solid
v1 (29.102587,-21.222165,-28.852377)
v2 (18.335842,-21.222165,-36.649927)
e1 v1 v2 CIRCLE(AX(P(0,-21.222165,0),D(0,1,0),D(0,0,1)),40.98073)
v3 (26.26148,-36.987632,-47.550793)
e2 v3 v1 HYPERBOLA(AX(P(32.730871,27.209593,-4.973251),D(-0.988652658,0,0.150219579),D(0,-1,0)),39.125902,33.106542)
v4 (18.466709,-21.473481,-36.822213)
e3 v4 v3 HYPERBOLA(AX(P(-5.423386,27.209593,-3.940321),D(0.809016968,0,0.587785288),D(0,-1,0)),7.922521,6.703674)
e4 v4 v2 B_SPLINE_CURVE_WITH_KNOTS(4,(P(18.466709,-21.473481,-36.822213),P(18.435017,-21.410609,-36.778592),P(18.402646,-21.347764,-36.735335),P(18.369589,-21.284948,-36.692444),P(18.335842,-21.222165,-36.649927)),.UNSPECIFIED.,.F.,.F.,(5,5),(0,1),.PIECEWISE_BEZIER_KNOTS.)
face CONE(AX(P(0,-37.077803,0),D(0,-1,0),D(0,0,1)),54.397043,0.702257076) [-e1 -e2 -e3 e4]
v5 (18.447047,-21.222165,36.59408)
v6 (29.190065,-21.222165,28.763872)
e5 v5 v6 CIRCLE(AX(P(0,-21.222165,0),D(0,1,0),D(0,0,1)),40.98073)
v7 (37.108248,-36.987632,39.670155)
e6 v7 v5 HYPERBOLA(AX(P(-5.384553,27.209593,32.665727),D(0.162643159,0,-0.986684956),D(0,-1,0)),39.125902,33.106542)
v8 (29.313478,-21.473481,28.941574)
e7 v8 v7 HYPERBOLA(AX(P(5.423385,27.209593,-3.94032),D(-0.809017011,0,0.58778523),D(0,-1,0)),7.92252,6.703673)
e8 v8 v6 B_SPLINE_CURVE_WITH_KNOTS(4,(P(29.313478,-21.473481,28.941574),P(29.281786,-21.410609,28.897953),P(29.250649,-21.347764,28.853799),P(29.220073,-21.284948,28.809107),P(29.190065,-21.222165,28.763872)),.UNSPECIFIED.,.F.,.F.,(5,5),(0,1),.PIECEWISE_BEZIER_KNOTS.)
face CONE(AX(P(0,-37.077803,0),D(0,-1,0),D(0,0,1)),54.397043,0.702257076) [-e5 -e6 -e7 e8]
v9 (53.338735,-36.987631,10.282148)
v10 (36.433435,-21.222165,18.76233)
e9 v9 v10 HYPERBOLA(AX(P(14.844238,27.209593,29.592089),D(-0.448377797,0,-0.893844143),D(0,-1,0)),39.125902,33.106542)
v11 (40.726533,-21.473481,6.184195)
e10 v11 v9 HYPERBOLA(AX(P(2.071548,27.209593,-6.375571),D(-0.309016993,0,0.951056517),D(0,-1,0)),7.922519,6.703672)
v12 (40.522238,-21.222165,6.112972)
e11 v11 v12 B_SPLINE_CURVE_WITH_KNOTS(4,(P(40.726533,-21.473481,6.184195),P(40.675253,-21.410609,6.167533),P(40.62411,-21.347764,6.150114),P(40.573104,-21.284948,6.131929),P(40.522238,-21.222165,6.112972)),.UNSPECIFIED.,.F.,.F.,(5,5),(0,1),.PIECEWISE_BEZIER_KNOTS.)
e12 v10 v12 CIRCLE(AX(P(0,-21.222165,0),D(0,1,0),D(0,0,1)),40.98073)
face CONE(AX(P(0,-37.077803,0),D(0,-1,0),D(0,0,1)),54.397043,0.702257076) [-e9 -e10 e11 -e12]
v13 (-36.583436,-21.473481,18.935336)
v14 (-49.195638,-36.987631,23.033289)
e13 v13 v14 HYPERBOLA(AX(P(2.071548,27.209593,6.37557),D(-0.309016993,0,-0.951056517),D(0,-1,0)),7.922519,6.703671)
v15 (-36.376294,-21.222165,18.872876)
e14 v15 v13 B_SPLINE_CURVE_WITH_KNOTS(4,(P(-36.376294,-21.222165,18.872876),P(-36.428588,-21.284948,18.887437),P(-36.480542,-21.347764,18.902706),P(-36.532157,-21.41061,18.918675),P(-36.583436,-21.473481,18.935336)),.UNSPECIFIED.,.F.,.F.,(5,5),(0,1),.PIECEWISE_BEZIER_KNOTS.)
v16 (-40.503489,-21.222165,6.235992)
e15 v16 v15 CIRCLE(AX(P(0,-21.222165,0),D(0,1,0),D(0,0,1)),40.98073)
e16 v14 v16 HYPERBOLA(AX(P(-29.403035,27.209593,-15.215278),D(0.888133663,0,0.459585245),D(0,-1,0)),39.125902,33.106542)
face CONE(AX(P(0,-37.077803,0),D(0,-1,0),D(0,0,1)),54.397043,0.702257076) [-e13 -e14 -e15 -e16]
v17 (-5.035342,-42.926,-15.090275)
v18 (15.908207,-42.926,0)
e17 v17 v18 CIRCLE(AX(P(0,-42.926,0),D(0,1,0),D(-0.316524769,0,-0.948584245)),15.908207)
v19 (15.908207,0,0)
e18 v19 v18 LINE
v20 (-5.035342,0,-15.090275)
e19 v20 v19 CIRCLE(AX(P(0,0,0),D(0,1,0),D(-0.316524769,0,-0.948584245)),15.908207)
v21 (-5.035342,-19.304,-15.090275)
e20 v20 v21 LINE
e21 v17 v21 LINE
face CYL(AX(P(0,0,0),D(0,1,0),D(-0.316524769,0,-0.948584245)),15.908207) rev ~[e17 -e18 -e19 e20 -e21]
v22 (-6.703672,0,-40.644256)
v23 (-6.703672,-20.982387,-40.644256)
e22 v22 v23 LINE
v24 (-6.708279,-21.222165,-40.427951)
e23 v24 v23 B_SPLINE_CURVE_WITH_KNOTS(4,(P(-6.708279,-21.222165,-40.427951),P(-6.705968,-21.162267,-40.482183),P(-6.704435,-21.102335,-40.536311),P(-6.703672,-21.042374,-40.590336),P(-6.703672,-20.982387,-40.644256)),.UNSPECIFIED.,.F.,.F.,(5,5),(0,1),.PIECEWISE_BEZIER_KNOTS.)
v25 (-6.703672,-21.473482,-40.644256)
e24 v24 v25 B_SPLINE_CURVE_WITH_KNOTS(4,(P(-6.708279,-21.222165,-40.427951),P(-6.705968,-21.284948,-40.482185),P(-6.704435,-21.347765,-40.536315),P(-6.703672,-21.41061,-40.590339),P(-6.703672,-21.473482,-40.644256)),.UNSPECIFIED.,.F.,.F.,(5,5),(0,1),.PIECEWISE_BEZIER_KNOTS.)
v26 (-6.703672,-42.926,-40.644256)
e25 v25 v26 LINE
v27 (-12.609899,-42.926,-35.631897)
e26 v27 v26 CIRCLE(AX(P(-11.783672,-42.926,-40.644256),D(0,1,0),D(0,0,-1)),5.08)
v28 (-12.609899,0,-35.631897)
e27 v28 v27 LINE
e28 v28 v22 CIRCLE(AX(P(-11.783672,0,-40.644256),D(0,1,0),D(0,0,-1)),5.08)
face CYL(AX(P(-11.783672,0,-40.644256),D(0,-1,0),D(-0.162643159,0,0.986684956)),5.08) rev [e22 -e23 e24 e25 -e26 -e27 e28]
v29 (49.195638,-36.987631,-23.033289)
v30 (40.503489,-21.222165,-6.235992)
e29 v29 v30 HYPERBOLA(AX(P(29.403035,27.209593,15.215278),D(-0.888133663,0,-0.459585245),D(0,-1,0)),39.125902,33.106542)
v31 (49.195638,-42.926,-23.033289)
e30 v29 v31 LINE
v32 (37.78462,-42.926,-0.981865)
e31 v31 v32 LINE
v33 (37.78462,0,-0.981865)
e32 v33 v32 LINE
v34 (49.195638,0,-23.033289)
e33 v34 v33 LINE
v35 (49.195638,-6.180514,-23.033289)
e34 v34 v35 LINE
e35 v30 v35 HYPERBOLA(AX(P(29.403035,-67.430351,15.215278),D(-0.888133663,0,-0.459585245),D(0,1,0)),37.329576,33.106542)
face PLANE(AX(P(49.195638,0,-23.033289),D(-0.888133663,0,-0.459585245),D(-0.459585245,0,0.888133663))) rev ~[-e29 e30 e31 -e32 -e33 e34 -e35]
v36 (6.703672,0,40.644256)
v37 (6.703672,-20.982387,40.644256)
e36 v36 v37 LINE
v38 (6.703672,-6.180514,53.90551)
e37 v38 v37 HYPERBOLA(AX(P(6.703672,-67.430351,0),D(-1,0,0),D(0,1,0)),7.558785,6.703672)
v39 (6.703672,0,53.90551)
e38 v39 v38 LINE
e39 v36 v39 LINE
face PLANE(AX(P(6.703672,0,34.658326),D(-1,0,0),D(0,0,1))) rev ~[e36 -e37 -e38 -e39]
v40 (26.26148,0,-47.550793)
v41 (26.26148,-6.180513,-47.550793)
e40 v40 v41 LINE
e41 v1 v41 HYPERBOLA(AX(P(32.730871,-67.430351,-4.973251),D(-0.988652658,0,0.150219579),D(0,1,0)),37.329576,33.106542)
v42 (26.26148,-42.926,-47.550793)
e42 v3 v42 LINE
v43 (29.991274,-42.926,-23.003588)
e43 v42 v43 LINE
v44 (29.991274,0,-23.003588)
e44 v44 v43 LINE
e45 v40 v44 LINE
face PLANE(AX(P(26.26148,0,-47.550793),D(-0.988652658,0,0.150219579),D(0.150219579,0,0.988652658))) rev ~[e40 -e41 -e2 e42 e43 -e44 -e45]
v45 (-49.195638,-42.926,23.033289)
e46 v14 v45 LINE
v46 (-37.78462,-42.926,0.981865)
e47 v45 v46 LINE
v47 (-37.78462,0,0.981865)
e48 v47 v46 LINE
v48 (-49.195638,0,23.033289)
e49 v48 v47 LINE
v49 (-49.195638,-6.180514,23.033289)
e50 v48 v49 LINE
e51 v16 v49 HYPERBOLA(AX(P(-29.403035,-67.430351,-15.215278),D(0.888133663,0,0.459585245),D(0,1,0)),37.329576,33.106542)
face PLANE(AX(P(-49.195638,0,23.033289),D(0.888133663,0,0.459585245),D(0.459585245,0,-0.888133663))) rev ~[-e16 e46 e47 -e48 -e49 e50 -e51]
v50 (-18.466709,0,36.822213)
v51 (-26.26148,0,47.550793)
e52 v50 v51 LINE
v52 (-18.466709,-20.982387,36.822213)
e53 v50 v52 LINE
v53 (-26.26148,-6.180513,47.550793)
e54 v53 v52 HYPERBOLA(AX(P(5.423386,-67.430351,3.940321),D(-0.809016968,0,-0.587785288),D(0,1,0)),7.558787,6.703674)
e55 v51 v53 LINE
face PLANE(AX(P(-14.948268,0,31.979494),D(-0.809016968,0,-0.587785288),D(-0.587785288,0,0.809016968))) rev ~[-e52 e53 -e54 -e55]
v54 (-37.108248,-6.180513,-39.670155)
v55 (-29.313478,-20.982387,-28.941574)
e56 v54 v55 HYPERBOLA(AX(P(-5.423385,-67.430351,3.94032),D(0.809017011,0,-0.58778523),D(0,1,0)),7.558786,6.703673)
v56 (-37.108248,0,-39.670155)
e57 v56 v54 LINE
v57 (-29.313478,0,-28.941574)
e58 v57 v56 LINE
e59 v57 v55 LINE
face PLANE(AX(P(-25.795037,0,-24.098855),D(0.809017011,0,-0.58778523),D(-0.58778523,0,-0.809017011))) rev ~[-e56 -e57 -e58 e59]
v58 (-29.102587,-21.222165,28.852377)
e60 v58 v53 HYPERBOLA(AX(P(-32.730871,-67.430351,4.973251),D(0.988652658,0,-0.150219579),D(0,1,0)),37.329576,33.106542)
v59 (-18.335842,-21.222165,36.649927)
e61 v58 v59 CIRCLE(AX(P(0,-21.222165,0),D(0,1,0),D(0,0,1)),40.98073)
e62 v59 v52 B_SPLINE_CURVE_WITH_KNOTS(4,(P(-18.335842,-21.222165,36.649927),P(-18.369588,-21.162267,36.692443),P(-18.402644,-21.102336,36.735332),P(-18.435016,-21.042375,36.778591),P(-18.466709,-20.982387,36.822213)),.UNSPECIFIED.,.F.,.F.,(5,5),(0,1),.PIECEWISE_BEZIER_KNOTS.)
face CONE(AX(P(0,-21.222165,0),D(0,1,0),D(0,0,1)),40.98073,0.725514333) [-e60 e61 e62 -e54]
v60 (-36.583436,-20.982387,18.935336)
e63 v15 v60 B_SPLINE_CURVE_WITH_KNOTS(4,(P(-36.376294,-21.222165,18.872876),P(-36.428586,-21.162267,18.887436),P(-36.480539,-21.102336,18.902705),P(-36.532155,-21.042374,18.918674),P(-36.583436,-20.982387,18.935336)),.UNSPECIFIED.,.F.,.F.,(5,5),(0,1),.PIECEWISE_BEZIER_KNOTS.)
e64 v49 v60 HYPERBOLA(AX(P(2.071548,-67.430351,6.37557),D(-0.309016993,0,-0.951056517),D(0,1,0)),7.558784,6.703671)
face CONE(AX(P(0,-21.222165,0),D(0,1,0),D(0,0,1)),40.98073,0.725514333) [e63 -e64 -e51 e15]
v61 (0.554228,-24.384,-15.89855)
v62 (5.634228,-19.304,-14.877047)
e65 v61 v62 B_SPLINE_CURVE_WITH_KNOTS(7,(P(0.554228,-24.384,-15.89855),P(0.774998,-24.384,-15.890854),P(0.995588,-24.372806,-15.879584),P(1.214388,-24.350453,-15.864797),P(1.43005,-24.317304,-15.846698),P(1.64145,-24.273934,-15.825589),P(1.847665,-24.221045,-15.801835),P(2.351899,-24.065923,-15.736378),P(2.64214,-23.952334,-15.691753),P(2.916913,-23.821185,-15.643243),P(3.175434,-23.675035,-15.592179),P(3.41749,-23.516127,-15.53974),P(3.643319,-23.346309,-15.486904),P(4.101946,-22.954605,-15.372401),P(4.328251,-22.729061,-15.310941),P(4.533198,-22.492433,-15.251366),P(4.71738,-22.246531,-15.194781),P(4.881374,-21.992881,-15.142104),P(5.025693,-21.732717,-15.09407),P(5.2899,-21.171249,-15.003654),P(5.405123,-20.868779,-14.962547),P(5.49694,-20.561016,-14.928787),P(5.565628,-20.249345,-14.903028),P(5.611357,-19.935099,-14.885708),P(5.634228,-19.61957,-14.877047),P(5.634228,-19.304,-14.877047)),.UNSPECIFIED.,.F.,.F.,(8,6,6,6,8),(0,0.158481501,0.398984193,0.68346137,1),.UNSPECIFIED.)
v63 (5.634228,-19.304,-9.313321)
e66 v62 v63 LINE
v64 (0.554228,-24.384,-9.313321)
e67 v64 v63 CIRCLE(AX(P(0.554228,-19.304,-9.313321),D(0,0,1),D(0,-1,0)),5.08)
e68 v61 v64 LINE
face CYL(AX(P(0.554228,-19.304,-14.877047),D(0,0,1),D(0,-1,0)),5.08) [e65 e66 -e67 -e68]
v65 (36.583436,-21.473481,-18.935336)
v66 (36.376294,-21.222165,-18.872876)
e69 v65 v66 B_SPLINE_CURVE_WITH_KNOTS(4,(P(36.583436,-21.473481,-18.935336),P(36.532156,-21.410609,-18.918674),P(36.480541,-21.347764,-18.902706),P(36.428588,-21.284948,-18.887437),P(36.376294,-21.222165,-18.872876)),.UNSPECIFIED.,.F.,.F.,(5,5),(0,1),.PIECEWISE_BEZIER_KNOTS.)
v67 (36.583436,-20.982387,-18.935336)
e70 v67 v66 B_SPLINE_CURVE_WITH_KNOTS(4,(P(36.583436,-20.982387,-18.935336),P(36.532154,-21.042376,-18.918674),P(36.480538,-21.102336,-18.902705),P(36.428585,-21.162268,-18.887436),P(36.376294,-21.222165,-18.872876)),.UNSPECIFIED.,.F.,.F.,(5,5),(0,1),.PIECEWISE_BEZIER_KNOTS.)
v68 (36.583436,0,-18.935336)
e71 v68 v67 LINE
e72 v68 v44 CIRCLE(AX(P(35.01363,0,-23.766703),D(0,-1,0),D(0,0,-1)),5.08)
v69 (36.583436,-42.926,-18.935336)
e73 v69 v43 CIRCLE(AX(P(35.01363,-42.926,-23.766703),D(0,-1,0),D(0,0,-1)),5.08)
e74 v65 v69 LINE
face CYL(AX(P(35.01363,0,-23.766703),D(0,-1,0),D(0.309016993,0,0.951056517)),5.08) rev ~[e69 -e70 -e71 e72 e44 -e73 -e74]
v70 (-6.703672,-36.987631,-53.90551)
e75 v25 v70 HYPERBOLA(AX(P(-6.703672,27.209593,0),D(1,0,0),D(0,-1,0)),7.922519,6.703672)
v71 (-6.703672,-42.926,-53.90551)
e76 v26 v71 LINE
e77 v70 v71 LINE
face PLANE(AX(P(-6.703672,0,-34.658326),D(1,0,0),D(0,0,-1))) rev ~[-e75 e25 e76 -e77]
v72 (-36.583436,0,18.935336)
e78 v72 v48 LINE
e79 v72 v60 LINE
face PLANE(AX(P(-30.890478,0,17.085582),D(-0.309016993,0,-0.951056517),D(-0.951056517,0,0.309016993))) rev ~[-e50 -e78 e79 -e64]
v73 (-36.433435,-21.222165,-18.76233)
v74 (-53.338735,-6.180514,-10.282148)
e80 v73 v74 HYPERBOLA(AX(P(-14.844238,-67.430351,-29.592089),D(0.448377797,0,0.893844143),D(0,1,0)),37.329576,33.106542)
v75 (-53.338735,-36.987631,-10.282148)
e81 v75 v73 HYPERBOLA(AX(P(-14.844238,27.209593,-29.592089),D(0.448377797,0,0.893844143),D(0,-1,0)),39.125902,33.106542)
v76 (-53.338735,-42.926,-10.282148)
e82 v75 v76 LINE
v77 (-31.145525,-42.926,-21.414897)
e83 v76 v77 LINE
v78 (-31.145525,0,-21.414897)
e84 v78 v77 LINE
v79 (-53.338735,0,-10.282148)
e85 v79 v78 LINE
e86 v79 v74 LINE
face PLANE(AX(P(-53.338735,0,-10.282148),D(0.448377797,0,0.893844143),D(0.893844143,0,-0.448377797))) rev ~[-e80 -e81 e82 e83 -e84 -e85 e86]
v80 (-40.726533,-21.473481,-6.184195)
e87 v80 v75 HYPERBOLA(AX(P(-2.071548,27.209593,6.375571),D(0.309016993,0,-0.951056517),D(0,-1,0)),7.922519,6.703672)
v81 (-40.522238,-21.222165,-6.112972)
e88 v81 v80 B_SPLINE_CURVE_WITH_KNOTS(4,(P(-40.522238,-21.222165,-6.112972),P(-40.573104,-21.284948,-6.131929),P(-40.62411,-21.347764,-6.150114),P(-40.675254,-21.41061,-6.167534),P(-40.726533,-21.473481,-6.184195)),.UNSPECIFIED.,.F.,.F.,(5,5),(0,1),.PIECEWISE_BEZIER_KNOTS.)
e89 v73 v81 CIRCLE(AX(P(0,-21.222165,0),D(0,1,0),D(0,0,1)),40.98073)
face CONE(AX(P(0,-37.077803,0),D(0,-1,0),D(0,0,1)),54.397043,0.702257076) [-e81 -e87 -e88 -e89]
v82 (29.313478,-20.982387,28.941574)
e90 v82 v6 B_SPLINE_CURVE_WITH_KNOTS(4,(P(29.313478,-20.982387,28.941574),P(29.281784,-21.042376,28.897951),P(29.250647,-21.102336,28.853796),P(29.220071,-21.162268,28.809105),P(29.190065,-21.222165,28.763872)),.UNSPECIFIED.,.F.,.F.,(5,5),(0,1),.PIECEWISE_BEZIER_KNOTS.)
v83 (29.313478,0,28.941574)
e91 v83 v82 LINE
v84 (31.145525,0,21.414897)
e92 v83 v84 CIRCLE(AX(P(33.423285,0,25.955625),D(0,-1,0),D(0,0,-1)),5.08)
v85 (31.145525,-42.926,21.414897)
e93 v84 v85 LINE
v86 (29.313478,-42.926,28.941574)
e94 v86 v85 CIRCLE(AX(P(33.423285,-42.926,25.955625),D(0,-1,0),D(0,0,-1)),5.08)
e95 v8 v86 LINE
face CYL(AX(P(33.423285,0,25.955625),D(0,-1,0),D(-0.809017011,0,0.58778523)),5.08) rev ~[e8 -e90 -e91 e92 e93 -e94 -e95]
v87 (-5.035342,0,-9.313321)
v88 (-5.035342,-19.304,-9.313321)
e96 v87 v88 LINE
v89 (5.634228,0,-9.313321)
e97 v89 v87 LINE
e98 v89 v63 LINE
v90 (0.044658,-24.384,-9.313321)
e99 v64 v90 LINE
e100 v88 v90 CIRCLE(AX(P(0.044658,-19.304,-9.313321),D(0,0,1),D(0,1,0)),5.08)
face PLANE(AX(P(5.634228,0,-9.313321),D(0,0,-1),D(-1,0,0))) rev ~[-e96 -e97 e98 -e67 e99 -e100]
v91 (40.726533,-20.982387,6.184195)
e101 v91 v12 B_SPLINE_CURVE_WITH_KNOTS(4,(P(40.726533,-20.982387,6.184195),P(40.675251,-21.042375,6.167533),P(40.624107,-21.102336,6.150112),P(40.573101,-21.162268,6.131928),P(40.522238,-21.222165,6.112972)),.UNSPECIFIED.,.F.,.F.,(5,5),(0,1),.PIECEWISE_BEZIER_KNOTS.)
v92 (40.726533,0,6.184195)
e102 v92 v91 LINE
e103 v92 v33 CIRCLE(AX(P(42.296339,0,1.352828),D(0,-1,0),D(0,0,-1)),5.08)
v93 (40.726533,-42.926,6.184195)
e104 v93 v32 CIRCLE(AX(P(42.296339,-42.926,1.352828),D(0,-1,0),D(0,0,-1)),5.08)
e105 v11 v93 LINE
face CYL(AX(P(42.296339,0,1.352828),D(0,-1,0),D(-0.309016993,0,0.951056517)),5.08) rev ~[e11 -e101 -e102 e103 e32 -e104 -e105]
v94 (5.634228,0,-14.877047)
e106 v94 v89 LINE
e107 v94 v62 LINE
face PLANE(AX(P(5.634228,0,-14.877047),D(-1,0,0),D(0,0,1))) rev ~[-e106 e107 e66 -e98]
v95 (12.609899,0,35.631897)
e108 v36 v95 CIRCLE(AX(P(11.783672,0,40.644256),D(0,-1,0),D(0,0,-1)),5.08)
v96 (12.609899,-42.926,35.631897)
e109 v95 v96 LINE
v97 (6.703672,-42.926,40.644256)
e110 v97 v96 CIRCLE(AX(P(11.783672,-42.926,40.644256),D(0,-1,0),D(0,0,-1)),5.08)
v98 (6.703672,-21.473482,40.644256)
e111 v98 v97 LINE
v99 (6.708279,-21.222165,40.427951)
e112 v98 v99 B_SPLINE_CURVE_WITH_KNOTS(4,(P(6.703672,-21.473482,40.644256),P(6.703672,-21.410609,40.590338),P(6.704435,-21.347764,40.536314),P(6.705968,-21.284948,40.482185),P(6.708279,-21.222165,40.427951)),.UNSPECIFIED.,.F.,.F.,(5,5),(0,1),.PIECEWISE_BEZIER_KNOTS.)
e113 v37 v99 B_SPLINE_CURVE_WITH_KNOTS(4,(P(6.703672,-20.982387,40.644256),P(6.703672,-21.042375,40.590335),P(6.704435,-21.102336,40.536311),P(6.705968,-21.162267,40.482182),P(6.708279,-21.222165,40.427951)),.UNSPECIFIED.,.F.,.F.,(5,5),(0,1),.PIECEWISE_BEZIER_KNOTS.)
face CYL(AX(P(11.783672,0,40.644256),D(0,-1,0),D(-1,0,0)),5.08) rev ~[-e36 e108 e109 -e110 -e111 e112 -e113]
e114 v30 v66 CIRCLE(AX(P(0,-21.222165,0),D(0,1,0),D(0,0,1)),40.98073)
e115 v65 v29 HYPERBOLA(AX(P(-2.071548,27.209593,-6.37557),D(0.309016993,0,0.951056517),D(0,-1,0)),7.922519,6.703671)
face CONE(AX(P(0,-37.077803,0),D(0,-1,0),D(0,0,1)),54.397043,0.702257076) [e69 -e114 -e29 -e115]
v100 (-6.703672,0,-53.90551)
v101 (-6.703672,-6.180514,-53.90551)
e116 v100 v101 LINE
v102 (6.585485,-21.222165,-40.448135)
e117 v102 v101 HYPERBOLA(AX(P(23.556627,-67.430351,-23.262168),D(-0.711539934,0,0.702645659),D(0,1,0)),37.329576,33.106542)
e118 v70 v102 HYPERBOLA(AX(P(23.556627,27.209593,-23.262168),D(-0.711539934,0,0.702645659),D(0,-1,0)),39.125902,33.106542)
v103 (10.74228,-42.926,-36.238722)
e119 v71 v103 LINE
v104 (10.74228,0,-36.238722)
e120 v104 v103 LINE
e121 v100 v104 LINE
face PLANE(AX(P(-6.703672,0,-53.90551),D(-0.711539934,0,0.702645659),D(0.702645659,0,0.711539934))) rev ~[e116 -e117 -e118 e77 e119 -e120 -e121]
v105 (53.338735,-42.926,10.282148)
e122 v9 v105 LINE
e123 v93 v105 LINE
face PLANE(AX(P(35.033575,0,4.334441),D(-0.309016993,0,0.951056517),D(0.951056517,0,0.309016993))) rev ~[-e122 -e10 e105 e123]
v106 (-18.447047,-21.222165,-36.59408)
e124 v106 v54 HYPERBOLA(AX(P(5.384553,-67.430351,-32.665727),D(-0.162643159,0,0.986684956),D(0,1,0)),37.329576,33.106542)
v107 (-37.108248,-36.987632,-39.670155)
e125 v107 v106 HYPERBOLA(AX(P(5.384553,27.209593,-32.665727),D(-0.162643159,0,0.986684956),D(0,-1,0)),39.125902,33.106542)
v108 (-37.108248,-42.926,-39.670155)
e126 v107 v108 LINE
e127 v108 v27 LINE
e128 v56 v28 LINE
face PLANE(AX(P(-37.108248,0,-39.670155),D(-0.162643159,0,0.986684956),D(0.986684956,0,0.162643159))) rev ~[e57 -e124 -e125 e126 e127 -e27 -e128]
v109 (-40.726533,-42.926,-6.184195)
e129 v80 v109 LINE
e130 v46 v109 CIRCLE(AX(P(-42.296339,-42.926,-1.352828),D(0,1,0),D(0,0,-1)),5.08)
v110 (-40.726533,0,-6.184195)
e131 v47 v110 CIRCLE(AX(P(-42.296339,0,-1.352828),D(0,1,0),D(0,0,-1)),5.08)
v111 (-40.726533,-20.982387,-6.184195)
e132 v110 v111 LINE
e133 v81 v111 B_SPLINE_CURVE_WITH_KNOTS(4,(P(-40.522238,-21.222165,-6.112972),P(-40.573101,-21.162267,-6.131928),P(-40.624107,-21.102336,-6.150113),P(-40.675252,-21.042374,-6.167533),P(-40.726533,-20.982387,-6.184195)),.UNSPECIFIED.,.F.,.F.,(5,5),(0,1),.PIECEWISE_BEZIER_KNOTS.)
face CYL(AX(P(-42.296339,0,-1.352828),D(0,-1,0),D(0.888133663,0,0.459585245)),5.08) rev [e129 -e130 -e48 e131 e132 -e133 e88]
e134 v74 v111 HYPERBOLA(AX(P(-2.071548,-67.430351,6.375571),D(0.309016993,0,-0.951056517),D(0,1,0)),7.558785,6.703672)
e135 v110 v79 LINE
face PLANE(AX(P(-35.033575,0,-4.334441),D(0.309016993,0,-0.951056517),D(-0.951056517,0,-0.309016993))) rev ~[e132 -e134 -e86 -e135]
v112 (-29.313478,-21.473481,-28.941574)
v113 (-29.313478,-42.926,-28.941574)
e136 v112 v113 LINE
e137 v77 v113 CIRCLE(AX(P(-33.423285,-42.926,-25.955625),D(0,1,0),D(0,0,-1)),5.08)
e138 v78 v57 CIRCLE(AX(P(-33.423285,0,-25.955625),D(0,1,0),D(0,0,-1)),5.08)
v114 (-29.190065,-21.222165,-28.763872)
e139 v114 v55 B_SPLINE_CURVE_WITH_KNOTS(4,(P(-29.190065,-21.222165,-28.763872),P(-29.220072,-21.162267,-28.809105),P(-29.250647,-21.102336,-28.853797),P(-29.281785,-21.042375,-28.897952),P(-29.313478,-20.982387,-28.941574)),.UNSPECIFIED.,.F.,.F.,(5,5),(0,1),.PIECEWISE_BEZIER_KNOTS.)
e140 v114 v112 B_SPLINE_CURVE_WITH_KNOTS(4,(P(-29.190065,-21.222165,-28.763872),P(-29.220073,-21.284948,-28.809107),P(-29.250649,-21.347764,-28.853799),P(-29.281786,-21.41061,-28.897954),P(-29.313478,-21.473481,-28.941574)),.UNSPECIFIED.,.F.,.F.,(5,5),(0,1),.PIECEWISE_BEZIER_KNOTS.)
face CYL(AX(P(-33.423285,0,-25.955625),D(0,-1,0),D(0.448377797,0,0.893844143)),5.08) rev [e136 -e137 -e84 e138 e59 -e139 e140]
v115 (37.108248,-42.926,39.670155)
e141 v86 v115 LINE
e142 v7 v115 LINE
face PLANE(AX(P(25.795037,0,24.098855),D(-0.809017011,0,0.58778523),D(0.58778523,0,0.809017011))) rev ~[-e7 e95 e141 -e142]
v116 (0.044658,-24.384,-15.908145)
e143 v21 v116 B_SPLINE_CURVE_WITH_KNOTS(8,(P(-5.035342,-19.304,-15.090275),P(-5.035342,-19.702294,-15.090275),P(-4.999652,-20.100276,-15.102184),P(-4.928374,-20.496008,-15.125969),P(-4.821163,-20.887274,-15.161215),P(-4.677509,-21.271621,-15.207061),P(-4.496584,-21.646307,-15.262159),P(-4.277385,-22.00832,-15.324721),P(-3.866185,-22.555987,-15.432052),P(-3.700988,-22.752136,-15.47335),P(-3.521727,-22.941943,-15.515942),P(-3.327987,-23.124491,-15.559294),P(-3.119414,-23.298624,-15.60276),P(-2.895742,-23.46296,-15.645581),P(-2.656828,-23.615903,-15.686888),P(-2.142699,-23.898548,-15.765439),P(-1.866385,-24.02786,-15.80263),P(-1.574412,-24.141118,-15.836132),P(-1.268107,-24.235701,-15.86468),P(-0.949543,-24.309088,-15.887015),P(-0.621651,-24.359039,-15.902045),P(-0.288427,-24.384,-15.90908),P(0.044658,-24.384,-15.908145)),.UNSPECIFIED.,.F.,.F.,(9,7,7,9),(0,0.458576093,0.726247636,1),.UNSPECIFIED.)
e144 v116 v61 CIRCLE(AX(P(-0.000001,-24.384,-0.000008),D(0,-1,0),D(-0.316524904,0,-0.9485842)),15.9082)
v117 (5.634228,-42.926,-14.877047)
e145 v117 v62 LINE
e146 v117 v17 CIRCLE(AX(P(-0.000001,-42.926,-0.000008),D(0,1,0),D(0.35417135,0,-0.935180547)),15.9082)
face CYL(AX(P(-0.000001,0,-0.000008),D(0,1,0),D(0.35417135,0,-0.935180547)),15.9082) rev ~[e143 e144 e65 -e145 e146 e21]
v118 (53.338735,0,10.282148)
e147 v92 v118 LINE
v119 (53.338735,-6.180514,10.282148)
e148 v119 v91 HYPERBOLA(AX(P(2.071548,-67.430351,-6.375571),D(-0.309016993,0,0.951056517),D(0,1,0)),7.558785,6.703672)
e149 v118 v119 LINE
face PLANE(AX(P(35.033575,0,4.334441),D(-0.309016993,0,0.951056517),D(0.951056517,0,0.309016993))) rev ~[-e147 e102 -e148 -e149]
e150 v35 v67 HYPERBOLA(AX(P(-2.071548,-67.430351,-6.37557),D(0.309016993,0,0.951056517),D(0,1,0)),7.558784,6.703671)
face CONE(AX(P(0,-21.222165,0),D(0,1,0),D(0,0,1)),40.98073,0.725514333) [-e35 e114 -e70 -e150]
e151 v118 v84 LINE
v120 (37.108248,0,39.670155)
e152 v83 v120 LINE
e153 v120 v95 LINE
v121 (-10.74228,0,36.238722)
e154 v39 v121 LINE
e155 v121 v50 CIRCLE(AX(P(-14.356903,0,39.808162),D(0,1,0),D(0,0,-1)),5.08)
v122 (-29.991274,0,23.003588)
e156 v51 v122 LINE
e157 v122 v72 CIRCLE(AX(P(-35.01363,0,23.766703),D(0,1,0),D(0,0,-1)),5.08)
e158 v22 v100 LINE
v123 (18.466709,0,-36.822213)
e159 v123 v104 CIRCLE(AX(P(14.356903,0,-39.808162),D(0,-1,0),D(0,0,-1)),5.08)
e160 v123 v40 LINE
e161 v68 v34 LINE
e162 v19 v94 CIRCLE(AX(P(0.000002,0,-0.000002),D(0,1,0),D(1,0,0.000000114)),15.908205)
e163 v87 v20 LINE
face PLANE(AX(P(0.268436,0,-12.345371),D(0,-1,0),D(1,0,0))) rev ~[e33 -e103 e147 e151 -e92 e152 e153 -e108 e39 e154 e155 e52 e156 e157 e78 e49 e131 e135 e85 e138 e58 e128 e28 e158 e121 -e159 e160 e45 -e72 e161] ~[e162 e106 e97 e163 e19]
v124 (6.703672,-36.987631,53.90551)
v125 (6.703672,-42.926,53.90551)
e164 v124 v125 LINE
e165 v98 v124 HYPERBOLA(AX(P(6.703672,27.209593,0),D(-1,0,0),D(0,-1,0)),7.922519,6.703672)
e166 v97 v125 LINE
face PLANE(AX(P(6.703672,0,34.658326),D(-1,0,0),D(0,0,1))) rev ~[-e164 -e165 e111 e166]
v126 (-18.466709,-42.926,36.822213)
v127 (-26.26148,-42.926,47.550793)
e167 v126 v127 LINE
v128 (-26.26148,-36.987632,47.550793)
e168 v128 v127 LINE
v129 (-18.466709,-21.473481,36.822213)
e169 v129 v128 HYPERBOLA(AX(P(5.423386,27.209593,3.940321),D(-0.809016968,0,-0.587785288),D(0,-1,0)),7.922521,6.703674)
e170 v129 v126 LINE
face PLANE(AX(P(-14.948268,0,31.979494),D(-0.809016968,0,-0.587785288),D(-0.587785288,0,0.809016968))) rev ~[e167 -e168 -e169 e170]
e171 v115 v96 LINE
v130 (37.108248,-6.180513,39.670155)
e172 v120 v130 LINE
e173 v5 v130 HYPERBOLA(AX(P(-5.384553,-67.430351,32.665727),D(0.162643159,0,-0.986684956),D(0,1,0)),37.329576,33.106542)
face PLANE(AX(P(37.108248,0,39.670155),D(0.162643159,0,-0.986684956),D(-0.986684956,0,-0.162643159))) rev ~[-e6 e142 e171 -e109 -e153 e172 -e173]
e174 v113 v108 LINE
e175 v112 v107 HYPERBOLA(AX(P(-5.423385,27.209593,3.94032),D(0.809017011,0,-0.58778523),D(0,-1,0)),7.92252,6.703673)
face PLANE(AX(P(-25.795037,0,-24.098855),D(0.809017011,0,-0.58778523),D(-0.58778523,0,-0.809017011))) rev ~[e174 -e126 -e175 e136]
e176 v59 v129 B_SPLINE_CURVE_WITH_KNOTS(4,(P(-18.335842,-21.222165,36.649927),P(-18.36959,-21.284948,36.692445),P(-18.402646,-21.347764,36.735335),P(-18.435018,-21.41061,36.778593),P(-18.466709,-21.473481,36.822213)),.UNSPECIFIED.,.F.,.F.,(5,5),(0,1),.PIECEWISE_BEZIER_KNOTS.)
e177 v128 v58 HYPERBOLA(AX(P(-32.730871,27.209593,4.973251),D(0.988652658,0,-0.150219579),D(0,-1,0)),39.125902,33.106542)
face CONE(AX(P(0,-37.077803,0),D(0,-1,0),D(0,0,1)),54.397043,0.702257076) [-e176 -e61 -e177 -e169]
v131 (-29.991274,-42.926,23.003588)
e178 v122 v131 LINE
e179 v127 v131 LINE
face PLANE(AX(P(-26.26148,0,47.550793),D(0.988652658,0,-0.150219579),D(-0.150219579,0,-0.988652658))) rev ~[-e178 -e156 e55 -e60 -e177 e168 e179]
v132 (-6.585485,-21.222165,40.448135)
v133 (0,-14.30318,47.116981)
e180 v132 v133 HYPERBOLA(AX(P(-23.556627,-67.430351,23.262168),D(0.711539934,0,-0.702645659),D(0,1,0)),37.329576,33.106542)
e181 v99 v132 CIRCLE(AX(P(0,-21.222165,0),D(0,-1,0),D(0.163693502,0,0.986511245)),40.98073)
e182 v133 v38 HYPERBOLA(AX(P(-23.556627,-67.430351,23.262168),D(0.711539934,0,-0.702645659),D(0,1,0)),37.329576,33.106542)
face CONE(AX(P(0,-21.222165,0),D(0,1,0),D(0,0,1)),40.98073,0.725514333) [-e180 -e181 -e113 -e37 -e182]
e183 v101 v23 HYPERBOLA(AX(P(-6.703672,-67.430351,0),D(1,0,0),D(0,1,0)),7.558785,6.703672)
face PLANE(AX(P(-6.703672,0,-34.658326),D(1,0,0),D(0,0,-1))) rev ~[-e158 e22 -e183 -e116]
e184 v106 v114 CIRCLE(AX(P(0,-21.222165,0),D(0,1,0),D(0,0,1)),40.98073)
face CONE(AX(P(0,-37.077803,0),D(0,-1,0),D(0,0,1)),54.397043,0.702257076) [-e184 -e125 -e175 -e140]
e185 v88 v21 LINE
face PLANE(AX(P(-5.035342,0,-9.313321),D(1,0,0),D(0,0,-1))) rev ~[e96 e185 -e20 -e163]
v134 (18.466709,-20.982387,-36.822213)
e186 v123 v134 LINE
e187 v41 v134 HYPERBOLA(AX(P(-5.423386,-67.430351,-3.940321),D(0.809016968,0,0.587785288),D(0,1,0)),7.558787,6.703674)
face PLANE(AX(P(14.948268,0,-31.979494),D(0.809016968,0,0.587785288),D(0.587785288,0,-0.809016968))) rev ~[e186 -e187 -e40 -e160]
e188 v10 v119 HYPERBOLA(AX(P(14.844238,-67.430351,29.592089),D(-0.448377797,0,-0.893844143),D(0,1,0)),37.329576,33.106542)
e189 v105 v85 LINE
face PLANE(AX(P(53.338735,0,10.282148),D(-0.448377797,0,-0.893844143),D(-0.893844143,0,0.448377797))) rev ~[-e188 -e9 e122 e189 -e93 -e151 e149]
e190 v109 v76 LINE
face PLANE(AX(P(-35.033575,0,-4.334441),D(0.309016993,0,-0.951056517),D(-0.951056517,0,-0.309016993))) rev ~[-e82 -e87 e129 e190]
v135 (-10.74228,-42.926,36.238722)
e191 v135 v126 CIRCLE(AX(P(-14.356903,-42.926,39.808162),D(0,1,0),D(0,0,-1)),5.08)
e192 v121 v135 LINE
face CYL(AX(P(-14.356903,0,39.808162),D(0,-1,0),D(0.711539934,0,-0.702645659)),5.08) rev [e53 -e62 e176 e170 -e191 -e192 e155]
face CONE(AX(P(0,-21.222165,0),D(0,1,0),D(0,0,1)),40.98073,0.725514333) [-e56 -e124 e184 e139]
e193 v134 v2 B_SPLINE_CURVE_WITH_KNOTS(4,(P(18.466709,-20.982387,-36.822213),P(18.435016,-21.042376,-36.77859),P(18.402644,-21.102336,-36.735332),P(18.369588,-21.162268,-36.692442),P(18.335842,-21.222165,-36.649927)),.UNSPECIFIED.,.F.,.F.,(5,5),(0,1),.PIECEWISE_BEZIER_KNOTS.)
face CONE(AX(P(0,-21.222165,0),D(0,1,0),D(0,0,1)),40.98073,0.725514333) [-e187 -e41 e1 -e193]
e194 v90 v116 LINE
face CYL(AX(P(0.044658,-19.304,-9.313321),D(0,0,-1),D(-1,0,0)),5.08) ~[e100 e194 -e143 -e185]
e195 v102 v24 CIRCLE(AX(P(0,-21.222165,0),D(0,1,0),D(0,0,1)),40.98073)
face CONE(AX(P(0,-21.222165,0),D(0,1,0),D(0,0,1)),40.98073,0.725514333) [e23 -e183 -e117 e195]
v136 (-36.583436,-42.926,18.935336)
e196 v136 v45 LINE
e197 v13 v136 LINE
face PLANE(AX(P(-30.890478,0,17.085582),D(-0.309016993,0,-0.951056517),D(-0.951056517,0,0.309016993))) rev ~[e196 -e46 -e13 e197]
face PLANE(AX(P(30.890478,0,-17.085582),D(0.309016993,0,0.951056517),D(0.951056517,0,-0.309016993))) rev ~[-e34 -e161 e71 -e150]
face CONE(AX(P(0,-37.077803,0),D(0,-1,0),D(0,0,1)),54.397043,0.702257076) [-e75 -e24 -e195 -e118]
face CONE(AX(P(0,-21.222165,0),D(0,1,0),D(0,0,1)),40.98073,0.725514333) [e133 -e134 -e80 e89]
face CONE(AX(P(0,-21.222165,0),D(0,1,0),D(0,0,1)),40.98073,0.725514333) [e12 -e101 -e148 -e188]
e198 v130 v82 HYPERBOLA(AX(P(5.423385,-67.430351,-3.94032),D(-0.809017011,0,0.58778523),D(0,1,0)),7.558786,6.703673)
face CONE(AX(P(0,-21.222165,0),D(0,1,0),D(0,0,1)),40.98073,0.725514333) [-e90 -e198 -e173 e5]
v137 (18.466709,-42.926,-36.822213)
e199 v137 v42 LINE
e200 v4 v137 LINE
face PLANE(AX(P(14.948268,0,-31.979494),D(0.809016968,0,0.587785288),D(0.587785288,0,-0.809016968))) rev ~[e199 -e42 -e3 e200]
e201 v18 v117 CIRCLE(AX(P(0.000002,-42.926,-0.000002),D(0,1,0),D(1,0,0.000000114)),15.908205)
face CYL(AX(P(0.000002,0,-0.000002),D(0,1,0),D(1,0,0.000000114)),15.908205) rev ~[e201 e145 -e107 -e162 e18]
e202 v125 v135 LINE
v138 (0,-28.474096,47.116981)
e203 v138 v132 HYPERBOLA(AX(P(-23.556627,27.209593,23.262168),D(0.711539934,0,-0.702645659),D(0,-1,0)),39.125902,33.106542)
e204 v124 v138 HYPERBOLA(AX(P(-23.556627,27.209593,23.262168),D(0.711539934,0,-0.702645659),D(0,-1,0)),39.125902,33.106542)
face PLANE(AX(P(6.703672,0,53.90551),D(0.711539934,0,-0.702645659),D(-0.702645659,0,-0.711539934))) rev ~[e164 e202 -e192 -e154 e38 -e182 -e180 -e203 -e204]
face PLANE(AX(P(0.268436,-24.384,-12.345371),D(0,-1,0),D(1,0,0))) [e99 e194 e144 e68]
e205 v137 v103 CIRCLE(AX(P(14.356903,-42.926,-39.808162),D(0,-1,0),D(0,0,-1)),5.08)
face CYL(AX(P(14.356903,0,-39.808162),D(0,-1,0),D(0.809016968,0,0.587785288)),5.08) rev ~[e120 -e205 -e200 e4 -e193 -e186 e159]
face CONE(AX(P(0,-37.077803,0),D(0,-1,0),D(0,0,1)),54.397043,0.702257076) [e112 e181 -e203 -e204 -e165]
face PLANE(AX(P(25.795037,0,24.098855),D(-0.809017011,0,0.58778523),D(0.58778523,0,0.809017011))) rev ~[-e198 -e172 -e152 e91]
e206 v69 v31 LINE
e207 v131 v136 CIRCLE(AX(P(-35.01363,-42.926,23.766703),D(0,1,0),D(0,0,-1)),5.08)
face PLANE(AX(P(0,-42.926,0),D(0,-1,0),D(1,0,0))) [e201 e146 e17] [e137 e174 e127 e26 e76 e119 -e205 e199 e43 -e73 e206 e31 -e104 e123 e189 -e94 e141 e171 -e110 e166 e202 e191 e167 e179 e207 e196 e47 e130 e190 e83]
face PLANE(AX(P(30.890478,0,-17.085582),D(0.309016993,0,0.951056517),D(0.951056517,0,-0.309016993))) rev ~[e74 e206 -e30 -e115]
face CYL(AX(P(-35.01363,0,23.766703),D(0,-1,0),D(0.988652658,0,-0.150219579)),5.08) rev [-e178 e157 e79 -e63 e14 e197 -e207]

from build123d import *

# Parameters (mm, degrees)
F1_DEPTH = 42.926
F2_R     = 5.08
F5_DEPTH = 24.384
F6_R     = 5.08


with BuildPart() as f1:
    # F0 (on Front) → F1 (new body)
    with BuildSketch(Plane.XZ):
        Polygon((6.703672, 53.90551), (-14.948268, 31.979494), (-26.26148, 47.550793), (-30.890478, 17.085582), (-49.195638, 23.033289), (-35.033575, -4.334441), (-53.338735, -10.282148), (-25.795037, -24.098855), (-37.108248, -39.670155), (-6.703672, -34.658326), (-6.703672, -53.90551), (14.948268, -31.979494), (26.26148, -47.550793), (30.890478, -17.085582), (49.195638, -23.033289), (35.033575, 4.334441), (53.338735, 10.282148), (25.795037, 24.098855), (37.108248, 39.670155), (6.703672, 34.658326), align=None)
        with BuildLine():
            ThreePointArc((-5.035342, -15.090275), (-9.299672, 12.906865), (15.908207, 0))
            ThreePointArc((15.908207, 0), (13.090102, -9.039928), (5.634228, -14.877047))
            ThreePointArc((5.634228, -14.877047), (0.317856, -15.905032), (-5.035342, -15.090275))
        make_face(mode=Mode.SUBTRACT)
    extrude(amount=F1_DEPTH)

    # F2
    f2_edges = [f1.edges().sort_by_distance(p)[0] for p in [
        (25.795037, -21.463, 24.098855),
        (6.703672, -21.463, 34.658326),
        (35.033575, -21.463, 4.334441),
        (30.890478, -21.463, -17.085582),
        (14.948268, -21.463, -31.979494),
        (-6.703672, -21.463, -34.658326),
        (-25.795037, -21.463, -24.098855),
        (-35.033575, -21.463, -4.334441),
        (-30.890478, -21.463, 17.085582),
        (-14.948268, -21.463, 31.979494),
    ]]
    fillet(f2_edges, radius=F2_R)

    # F3 (on Right) → F4 (revolve, cut)
    with BuildSketch(Plane.YZ):
        Polygon((-6.094482, 54.397043), (-37.077803, 54.397043), (-21.222165, 40.98073), align=None)
    revolve(axis=Axis((0, -28.662119, 0), (0, 1, 0)), mode=Mode.SUBTRACT)

    # F0 (on Front) → F5 (join)
    with BuildSketch(Plane.XZ):
        with BuildLine():
            Line((-5.035342, -9.313321), (-5.035342, -15.090275))
            ThreePointArc((-5.035342, -15.090275), (0.317856, -15.905032), (5.634228, -14.877047))
            Line((5.634228, -14.877047), (5.634228, -9.313321))
            Line((5.634228, -9.313321), (-5.035342, -9.313321))
        make_face()
    extrude(amount=F5_DEPTH)

    # F6
    f6_edges = [f1.edges().sort_by_distance(p)[0] for p in [
        (5.634228, -24.384, -12.095184),
        (-5.035342, -24.384, -12.201798),
    ]]
    fillet(f6_edges, radius=F6_R)


solid = f1.part
